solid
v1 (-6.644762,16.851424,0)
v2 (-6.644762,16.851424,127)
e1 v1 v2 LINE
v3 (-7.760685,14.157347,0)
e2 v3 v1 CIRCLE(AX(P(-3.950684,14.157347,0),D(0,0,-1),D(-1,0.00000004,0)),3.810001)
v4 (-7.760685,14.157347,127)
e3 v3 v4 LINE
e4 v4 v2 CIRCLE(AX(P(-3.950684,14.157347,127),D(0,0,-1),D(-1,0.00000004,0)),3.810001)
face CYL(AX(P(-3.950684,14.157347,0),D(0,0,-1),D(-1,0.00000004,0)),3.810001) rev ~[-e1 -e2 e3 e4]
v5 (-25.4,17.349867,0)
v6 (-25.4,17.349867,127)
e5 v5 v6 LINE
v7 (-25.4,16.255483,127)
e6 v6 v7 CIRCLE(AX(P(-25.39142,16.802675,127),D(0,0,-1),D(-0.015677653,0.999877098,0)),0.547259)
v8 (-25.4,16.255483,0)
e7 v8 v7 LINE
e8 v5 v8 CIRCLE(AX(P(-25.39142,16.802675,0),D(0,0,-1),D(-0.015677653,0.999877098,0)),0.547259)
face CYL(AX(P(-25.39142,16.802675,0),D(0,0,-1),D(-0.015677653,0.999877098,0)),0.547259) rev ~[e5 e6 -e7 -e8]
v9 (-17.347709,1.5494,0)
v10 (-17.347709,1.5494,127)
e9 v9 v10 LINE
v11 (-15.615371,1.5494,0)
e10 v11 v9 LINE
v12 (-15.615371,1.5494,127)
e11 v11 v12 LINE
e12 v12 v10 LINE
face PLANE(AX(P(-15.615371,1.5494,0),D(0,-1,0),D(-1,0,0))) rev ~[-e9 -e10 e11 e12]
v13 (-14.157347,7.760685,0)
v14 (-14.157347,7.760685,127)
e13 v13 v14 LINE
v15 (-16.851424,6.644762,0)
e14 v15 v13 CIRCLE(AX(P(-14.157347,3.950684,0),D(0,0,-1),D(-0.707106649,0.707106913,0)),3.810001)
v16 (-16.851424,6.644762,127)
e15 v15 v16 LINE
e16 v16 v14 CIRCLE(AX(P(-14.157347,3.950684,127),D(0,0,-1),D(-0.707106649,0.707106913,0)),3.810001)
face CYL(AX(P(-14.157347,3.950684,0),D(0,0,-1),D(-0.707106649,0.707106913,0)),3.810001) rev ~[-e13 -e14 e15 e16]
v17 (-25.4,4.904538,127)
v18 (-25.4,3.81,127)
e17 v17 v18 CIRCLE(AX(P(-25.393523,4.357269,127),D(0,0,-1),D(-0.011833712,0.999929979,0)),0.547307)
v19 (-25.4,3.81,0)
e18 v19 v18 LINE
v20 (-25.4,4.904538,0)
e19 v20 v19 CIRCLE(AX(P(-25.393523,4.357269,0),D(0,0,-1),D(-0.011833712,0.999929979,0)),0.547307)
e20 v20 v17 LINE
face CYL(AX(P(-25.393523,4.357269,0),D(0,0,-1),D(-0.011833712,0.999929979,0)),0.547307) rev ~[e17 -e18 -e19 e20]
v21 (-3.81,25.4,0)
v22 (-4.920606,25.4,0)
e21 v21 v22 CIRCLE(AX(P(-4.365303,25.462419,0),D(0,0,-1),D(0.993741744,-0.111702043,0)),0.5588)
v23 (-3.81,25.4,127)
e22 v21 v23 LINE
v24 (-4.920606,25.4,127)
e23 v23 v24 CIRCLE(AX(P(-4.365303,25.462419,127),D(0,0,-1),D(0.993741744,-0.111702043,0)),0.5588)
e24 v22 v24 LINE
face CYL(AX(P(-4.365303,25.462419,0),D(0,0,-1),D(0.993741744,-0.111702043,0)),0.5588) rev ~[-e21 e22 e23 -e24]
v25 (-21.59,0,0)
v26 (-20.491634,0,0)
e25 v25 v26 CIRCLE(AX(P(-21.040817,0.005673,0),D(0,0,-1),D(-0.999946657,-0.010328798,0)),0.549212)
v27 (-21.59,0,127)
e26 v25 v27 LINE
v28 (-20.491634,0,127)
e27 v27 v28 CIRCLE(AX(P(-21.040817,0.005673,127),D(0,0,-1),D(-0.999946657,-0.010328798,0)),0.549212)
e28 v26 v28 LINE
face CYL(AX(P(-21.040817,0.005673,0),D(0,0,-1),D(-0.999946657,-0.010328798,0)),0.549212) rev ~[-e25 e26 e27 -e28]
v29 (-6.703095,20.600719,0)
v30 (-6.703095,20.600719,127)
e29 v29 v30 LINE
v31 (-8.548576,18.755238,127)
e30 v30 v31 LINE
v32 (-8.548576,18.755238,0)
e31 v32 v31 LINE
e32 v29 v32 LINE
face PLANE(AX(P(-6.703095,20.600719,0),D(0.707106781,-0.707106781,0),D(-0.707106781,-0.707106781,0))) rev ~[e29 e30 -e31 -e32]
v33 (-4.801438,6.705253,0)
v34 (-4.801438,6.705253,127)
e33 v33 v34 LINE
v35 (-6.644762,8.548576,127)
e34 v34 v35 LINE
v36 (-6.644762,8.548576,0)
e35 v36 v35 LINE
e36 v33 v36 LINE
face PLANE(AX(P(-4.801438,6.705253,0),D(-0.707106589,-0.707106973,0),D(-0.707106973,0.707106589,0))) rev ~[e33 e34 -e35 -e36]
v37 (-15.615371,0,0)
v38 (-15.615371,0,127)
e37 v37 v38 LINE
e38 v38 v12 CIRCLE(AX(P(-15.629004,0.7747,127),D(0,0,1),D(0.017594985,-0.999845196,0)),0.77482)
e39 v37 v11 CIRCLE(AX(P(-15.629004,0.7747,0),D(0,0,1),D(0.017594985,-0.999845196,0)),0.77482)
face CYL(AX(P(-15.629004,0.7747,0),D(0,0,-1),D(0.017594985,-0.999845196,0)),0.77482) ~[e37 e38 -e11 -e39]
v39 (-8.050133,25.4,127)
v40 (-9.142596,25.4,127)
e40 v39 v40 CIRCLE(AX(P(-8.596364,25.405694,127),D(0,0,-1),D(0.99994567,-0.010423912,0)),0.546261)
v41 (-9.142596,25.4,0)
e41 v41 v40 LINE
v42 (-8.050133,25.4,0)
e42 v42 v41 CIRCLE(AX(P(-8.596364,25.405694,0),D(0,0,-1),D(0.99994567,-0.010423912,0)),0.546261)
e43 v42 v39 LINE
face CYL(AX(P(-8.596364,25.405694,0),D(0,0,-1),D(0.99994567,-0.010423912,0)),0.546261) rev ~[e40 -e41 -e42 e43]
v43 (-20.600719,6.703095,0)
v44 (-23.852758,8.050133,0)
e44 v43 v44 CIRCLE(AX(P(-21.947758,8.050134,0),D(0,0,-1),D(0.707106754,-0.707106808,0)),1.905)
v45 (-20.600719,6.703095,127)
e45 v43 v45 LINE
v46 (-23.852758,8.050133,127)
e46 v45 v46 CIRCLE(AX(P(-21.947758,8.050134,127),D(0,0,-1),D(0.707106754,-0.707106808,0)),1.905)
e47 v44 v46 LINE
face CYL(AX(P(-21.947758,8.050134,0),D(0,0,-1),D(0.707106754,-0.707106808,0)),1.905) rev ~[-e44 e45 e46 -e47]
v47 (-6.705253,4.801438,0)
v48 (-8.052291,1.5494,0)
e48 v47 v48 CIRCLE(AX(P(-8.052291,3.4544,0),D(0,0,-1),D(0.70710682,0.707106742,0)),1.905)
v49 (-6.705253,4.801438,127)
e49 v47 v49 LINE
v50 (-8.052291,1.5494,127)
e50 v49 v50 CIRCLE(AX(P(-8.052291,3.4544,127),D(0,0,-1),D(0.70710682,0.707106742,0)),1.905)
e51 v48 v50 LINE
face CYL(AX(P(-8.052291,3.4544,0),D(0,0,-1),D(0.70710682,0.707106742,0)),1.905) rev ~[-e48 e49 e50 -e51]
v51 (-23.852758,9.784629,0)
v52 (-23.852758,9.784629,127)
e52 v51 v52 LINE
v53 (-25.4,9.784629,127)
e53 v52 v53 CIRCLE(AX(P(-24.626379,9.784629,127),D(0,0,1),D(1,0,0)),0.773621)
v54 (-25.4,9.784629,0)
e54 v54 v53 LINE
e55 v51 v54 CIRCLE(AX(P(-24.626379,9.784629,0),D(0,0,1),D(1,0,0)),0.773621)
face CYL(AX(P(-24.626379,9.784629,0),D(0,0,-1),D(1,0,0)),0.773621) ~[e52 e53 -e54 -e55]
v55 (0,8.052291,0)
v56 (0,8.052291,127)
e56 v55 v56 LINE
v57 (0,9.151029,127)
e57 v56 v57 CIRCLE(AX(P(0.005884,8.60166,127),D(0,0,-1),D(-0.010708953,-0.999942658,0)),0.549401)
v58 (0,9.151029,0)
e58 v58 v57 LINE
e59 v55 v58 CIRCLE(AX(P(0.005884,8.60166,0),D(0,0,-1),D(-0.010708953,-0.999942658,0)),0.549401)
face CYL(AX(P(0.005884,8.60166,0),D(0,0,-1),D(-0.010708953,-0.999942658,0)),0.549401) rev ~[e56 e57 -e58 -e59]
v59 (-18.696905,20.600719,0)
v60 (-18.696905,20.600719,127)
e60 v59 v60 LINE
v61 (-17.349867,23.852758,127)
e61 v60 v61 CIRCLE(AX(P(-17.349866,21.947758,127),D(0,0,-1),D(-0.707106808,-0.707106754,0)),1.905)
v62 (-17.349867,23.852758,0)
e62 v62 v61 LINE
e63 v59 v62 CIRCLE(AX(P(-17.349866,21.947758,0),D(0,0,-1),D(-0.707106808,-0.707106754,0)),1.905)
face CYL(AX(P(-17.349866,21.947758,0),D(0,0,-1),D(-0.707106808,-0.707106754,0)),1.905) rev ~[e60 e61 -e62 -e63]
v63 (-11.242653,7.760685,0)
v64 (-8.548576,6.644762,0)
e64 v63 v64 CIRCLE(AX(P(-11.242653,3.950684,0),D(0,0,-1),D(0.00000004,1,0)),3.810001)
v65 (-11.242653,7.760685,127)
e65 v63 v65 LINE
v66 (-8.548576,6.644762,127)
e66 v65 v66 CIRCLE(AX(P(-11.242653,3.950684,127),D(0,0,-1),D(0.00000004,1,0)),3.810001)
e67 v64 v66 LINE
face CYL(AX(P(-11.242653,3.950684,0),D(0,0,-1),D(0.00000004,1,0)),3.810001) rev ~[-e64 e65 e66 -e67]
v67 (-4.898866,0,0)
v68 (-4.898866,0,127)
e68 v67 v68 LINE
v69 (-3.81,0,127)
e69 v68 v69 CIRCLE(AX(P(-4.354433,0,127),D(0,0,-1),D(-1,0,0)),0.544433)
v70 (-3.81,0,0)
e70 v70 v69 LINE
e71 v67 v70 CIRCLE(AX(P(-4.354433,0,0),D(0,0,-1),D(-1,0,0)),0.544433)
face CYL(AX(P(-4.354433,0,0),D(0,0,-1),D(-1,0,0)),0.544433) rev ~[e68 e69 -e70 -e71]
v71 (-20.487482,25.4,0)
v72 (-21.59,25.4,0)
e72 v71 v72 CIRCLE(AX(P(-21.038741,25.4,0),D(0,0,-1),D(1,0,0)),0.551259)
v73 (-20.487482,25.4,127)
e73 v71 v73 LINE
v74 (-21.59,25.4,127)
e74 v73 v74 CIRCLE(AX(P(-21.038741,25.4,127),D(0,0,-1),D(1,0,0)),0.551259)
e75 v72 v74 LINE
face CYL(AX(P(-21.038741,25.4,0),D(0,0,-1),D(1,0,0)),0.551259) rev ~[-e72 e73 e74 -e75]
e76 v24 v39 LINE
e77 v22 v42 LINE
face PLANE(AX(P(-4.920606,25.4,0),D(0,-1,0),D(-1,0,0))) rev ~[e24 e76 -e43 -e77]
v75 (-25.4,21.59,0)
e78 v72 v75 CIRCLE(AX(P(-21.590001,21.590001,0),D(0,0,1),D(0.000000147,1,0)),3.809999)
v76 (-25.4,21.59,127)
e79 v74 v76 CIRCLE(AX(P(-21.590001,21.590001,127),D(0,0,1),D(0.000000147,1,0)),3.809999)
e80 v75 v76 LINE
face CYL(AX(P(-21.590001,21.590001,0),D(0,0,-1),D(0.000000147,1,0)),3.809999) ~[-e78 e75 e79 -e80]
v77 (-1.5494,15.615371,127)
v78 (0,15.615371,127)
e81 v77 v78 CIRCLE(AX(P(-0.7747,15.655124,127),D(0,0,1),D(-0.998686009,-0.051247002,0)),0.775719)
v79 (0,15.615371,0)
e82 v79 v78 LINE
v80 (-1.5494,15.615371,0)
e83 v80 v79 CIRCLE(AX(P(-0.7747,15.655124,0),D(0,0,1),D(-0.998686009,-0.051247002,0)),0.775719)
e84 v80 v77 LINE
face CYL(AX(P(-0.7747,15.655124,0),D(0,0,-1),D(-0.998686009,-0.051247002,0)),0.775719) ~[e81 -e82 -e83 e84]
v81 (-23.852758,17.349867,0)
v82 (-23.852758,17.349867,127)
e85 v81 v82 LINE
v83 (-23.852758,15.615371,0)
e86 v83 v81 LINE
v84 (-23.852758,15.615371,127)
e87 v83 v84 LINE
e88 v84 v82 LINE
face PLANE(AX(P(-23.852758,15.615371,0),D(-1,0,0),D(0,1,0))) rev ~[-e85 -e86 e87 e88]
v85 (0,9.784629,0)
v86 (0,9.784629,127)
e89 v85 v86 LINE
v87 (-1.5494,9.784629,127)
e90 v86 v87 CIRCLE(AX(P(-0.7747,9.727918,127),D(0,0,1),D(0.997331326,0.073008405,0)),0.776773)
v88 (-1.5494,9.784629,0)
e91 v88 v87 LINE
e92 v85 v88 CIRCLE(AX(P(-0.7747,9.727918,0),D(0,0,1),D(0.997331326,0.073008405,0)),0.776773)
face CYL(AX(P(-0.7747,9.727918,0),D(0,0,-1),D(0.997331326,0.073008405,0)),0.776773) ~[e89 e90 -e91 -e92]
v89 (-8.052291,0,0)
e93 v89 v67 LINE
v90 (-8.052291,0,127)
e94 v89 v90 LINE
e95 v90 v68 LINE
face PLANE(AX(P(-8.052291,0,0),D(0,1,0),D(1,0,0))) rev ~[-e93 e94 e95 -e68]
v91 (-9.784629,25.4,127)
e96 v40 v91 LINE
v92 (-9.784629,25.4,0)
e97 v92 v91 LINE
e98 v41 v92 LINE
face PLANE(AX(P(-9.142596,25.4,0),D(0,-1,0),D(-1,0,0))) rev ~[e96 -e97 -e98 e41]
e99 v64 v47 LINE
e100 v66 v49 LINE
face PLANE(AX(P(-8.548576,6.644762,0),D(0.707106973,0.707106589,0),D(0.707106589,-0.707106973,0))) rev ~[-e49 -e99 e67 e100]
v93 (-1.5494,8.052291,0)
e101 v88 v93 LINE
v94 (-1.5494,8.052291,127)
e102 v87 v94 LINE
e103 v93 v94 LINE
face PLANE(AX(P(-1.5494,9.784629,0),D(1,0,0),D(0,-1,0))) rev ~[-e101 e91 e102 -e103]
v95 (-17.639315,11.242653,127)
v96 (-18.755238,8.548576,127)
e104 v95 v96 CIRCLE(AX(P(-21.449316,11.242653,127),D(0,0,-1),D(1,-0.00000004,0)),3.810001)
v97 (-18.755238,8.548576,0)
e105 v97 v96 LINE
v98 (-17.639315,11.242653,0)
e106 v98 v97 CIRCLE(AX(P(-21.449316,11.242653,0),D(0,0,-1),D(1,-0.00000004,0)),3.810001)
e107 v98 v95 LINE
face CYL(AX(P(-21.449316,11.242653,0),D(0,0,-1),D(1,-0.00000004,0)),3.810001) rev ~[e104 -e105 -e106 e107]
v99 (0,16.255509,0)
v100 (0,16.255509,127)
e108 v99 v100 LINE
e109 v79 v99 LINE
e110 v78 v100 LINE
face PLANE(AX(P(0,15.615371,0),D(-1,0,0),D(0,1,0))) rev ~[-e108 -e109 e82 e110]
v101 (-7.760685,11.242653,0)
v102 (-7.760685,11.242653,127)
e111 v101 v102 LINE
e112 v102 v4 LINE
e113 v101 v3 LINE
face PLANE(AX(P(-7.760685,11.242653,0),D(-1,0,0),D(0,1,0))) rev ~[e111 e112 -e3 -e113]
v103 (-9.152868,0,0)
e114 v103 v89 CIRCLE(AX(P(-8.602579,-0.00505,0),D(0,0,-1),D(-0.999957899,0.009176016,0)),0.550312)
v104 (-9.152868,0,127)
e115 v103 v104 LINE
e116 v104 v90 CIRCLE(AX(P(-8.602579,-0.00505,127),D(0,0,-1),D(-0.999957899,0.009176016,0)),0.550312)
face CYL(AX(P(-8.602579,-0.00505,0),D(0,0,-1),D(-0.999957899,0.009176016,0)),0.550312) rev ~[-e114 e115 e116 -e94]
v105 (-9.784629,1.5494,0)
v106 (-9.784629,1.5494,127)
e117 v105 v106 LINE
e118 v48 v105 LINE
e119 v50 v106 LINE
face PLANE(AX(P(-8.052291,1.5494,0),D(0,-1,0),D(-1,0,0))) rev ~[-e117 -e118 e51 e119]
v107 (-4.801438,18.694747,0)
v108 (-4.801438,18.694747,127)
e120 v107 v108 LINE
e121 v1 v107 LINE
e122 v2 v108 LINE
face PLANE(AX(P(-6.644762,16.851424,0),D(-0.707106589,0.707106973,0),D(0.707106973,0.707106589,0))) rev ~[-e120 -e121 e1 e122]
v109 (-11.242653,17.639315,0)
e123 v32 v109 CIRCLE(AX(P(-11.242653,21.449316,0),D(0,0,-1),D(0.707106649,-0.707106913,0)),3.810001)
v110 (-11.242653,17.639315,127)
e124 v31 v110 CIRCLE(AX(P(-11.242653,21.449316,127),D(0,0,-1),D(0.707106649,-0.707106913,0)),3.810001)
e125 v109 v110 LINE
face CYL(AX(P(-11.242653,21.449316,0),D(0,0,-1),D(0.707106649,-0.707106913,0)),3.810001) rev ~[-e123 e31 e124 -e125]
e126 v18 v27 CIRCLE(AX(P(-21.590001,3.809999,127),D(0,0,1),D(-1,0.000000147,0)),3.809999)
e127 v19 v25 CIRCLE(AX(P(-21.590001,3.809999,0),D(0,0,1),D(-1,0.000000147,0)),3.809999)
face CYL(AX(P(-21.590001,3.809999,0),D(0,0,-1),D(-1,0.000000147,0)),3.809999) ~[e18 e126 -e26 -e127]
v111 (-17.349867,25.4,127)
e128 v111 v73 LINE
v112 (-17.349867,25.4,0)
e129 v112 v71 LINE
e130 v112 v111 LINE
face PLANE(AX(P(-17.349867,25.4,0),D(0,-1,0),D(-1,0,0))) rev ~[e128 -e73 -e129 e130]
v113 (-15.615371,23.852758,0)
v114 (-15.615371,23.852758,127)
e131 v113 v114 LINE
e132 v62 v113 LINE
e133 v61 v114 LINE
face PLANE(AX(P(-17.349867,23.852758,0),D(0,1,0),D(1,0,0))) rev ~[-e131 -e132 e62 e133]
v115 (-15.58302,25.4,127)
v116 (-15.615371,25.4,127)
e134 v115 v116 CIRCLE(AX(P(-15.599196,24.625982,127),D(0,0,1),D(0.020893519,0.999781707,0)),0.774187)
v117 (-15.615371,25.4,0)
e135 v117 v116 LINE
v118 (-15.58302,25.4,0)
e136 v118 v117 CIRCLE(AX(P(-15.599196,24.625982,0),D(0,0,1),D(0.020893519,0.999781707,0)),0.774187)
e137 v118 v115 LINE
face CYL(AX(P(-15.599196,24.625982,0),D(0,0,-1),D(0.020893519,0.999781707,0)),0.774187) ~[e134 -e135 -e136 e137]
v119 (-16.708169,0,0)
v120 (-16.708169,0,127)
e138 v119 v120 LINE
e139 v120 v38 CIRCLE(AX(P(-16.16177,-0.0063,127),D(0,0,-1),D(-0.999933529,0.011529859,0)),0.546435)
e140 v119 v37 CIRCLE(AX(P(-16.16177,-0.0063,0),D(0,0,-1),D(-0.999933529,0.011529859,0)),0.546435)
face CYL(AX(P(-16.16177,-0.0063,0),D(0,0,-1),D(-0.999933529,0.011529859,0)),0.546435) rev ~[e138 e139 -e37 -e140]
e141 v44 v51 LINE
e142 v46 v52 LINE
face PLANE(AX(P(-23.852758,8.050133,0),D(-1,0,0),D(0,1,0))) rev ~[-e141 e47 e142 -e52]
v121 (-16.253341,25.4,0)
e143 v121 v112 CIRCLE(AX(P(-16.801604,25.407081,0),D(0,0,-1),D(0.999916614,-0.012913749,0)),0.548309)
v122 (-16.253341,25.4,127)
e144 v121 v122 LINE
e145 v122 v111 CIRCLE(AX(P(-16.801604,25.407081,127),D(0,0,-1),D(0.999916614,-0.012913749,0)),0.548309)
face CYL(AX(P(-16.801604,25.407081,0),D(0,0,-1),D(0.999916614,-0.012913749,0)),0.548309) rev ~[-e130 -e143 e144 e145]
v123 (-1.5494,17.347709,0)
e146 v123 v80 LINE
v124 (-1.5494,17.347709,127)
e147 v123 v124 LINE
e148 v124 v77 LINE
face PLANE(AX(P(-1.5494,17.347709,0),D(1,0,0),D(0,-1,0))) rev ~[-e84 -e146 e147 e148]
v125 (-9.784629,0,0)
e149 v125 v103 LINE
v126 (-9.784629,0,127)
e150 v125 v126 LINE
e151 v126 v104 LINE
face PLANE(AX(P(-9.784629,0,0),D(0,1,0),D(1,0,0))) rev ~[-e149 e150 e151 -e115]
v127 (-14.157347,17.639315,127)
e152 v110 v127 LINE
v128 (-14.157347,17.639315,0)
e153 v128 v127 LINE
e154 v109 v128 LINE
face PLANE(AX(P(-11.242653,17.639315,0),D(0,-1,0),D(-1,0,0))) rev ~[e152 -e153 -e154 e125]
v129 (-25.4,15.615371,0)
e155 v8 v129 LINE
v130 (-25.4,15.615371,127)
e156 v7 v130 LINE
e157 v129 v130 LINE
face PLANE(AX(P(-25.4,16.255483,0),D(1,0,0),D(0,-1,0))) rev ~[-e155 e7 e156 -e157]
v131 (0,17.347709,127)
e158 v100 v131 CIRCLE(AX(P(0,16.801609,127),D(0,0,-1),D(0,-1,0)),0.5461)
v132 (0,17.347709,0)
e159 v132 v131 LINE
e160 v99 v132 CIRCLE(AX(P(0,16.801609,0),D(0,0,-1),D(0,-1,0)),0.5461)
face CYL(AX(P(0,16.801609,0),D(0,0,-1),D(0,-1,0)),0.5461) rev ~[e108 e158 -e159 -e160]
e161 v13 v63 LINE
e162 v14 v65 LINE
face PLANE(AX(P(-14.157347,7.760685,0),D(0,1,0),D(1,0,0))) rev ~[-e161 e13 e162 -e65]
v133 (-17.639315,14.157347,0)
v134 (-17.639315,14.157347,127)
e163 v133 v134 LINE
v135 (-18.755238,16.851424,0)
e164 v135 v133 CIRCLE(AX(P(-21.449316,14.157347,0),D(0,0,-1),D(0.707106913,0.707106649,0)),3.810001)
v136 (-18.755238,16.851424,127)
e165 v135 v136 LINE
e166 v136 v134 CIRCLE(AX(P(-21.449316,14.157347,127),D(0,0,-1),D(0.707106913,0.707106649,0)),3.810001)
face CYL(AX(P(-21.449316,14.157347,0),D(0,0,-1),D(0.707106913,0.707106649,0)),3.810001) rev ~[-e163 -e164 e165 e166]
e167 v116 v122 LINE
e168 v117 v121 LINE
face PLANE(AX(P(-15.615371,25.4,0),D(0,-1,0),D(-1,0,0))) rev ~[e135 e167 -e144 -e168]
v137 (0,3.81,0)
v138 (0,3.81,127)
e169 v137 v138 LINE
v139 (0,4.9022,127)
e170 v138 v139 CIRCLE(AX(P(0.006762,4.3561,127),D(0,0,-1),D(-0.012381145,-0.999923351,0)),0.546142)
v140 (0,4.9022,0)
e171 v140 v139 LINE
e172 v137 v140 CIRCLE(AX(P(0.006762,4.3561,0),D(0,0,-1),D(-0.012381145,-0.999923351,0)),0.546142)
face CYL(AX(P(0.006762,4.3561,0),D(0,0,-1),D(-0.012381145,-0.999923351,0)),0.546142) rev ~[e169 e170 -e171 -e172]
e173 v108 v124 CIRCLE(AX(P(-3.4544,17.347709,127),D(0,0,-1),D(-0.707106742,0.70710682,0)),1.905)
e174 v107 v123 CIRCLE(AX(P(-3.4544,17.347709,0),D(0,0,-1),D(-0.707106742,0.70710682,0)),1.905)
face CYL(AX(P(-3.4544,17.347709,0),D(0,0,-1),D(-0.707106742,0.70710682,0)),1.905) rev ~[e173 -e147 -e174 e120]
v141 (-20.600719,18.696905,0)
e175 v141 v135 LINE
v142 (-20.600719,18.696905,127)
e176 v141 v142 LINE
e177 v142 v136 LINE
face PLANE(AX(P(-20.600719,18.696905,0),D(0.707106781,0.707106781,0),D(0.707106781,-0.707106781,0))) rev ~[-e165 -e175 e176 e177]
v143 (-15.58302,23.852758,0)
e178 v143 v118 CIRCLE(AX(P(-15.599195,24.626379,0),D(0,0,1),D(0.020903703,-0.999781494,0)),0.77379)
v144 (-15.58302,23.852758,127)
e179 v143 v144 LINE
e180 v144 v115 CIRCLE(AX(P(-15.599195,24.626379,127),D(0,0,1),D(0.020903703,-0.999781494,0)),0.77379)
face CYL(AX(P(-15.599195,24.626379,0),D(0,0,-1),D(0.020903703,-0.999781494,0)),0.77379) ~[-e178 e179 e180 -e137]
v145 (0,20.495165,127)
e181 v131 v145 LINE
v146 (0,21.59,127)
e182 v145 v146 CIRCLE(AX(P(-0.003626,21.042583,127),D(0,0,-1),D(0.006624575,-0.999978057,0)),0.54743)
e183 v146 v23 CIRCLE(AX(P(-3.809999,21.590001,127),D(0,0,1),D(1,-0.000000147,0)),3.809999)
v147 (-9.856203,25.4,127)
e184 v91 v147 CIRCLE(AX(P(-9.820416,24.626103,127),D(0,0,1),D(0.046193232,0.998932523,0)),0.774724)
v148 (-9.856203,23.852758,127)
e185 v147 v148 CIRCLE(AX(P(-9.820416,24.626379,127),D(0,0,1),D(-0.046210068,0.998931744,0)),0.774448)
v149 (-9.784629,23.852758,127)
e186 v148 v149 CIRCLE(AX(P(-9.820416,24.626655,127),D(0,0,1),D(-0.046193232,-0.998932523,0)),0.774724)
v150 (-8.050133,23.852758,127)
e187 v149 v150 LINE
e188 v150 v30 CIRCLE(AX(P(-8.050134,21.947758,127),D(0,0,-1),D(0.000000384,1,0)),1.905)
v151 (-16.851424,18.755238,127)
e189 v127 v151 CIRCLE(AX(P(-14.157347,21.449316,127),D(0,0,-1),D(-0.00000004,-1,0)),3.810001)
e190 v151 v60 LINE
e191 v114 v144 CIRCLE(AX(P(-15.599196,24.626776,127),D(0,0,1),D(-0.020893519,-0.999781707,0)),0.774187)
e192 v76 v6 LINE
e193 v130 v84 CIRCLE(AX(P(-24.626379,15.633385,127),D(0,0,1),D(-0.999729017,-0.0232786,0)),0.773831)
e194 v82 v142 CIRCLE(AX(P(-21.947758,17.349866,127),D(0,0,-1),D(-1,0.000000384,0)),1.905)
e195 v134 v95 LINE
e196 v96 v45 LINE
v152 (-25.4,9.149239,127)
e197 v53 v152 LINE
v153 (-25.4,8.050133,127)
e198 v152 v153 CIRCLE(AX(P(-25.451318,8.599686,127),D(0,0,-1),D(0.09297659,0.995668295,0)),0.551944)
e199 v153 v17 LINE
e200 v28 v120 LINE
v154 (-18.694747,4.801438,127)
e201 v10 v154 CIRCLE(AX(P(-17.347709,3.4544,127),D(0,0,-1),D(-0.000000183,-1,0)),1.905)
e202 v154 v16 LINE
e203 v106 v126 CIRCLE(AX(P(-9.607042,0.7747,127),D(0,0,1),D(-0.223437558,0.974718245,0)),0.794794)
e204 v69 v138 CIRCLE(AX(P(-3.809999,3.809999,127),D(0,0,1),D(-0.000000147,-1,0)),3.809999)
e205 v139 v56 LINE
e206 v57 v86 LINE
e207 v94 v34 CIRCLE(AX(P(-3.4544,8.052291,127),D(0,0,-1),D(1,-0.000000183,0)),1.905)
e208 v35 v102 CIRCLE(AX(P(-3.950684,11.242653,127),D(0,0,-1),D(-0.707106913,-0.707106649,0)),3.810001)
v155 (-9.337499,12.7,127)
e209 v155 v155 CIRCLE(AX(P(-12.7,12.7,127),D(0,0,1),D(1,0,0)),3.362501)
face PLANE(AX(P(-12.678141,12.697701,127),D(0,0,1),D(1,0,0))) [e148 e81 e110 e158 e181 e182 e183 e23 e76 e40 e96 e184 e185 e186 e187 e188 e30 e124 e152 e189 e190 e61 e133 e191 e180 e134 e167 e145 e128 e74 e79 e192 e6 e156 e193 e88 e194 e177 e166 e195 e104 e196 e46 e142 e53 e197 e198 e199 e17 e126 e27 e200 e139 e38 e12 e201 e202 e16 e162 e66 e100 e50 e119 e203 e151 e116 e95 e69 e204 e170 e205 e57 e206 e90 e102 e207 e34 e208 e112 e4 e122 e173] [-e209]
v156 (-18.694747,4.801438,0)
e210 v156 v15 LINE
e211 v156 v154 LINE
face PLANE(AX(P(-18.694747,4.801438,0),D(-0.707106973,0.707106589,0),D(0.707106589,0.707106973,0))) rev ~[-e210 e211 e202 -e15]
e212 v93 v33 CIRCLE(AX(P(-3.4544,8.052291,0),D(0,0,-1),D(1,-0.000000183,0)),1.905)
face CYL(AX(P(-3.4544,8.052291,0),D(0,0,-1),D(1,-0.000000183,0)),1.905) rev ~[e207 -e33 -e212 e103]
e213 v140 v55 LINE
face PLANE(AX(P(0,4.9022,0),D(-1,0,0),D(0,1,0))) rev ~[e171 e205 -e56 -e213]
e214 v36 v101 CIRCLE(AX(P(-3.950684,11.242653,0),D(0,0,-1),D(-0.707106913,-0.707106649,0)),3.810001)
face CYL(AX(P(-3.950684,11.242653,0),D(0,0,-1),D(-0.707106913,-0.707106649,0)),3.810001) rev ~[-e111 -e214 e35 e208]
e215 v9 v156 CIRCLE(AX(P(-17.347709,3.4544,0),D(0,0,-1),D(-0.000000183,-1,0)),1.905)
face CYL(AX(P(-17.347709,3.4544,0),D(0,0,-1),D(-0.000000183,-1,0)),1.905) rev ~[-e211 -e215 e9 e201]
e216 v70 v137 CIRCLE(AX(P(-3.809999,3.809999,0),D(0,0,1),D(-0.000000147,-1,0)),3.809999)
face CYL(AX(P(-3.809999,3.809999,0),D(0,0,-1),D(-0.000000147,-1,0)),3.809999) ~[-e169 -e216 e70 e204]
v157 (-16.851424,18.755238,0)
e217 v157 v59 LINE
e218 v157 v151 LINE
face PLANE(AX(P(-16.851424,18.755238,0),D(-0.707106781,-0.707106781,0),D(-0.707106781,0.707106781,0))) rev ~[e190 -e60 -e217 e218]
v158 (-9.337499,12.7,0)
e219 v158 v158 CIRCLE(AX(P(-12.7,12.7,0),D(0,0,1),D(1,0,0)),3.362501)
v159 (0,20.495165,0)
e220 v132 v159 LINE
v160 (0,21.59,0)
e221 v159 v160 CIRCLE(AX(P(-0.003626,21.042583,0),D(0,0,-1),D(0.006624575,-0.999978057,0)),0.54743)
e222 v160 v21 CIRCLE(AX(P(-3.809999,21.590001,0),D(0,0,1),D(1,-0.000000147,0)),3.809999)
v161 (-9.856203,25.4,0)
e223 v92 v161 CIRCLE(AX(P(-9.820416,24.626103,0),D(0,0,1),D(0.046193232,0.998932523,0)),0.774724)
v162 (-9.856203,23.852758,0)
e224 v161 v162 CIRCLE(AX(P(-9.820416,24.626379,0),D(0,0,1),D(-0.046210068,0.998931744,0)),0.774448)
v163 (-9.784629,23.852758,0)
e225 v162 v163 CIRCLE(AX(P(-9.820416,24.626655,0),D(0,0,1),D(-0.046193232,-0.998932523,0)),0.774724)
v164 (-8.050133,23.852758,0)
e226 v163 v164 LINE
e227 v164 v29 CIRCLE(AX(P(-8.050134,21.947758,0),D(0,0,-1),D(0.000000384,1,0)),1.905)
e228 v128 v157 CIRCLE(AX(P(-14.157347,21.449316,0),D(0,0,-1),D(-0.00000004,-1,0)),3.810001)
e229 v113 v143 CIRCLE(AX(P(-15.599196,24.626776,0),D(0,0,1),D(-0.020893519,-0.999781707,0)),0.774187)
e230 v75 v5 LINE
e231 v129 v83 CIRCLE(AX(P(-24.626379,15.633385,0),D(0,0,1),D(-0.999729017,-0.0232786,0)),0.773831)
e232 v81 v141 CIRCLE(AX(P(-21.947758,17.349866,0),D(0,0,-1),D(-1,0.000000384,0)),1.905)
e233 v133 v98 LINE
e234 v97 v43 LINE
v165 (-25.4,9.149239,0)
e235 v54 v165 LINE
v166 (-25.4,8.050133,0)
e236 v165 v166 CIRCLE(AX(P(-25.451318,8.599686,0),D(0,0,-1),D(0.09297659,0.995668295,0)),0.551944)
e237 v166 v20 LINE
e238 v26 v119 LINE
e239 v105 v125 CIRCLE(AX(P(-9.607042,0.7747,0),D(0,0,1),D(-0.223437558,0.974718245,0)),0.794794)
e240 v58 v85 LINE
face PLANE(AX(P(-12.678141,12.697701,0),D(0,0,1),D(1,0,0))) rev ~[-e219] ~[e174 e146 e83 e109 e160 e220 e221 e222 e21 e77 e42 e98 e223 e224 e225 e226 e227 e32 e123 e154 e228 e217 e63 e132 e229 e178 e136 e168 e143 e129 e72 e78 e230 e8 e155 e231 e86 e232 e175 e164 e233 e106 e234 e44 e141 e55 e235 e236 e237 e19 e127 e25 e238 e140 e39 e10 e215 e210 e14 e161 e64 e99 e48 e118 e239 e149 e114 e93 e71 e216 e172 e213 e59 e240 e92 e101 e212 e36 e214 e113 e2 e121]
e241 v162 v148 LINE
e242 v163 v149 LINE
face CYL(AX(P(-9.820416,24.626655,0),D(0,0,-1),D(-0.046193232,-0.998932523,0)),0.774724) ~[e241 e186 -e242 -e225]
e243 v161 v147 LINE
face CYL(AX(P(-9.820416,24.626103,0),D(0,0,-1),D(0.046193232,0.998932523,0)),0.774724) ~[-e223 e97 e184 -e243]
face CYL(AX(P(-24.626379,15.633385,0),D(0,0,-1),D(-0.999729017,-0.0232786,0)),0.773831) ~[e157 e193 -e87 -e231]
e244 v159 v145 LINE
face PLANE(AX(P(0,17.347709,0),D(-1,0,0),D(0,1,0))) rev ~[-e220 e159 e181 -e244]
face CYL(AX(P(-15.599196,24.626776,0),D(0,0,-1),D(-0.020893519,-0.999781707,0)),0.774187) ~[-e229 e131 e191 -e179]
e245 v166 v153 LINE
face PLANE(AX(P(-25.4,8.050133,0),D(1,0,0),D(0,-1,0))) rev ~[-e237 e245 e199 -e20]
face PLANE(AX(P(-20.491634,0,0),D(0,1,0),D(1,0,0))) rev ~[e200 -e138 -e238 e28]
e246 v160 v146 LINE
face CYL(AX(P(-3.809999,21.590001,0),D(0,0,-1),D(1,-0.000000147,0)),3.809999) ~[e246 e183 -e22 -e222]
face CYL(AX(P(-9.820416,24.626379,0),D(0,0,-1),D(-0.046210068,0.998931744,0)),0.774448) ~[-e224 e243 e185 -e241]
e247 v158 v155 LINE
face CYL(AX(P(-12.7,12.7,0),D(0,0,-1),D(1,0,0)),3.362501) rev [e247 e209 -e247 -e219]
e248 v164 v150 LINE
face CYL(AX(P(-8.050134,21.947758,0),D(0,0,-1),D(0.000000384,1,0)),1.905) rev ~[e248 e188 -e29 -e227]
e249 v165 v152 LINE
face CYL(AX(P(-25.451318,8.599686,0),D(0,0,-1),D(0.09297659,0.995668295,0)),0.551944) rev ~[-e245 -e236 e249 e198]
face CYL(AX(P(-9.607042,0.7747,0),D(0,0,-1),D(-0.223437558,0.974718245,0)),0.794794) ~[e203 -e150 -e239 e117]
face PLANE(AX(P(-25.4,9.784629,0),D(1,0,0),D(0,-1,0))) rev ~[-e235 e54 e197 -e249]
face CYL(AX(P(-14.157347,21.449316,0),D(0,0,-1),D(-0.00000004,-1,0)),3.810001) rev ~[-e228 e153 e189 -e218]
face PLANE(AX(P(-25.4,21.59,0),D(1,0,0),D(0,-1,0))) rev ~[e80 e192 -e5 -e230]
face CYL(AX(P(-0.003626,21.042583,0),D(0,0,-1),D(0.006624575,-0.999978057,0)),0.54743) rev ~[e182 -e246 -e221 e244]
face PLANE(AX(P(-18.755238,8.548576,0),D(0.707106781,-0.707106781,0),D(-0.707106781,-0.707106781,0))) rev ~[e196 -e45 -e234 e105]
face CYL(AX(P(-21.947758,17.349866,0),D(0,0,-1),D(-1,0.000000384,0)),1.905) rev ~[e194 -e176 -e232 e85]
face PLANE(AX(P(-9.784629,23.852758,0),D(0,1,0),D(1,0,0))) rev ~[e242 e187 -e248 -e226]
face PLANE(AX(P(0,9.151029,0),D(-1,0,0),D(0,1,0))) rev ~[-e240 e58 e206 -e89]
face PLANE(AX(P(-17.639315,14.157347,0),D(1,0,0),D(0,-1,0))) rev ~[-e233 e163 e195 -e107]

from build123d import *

# Parameters (mm, degrees)
F0_R     = 3.362501
F1_DEPTH = 127


with BuildPart() as f1:
    # F0 (on Top) → F1 (new body)
    with BuildSketch(Plane.XY):
        with BuildLine():
            ThreePointArc((-8.548576, 18.755238), (-9.784629, 17.929334), (-11.242653, 17.639315))
            Line((-11.242653, 17.639315), (-14.157347, 17.639315))
            ThreePointArc((-14.157347, 17.639315), (-15.615371, 17.929334), (-16.851424, 18.755238))
            Line((-16.851424, 18.755238), (-18.696905, 20.600719))
            ThreePointArc((-18.696905, 20.600719), (-19.109857, 22.67677), (-17.349867, 23.852758))
            Line((-17.349867, 23.852758), (-15.615371, 23.852758))
            Line((-15.615371, 23.852758), (-15.58302, 23.852758))
            ThreePointArc((-15.58302, 23.852758), (-14.825405, 24.626379), (-15.58302, 25.4))
            Line((-15.58302, 25.4), (-15.615371, 25.4))
            Line((-15.615371, 25.4), (-16.253341, 25.4))
            ThreePointArc((-16.253341, 25.4), (-16.801604, 24.858772), (-17.349867, 25.4))
            Line((-17.349867, 25.4), (-20.487482, 25.4))
            ThreePointArc((-20.487482, 25.4), (-21.038741, 24.848741), (-21.59, 25.4))
            ThreePointArc((-21.59, 25.4), (-24.284077, 24.284077), (-25.4, 21.59))
            Line((-25.4, 21.59), (-25.4, 20.504724))
            Line((-25.4, 20.504724), (-25.4, 17.349867))
            ThreePointArc((-25.4, 17.349867), (-24.844161, 16.802675), (-25.4, 16.255483))
            Line((-25.4, 16.255483), (-25.4, 15.615371))
            ThreePointArc((-25.4, 15.615371), (-24.626379, 14.859554), (-23.852758, 15.615371))
            Line((-23.852758, 15.615371), (-23.852758, 17.349867))
            ThreePointArc((-23.852758, 17.349867), (-22.67677, 19.109857), (-20.600719, 18.696905))
            Line((-20.600719, 18.696905), (-18.755238, 16.851424))
            ThreePointArc((-18.755238, 16.851424), (-17.929334, 15.615371), (-17.639315, 14.157347))
            Line((-17.639315, 14.157347), (-17.639315, 11.242653))
            ThreePointArc((-17.639315, 11.242653), (-17.929334, 9.784629), (-18.755238, 8.548576))
            Line((-18.755238, 8.548576), (-20.600719, 6.703095))
            ThreePointArc((-20.600719, 6.703095), (-22.67677, 6.290143), (-23.852758, 8.050133))
            Line((-23.852758, 8.050133), (-23.852758, 9.784629))
            ThreePointArc((-23.852758, 9.784629), (-24.626379, 10.55825), (-25.4, 9.784629))
            Line((-25.4, 9.784629), (-25.4, 9.149239))
            ThreePointArc((-25.4, 9.149239), (-24.899374, 8.599686), (-25.4, 8.050133))
            Line((-25.4, 8.050133), (-25.4, 4.904538))
            ThreePointArc((-25.4, 4.904538), (-24.846216, 4.357269), (-25.4, 3.81))
            ThreePointArc((-25.4, 3.81), (-24.284077, 1.115923), (-21.59, 0))
            ThreePointArc((-21.59, 0), (-21.040817, 0.554885), (-20.491634, 0))
            Line((-20.491634, 0), (-16.708169, 0))
            ThreePointArc((-16.708169, 0), (-16.16177, 0.540135), (-15.615371, 0))
            ThreePointArc((-15.615371, 0), (-14.854184, 0.7747), (-15.615371, 1.5494))
            Line((-15.615371, 1.5494), (-17.347709, 1.5494))
            ThreePointArc((-17.347709, 1.5494), (-19.107699, 2.725388), (-18.694747, 4.801438))
            Line((-18.694747, 4.801438), (-16.851424, 6.644762))
            ThreePointArc((-16.851424, 6.644762), (-15.615371, 7.470666), (-14.157347, 7.760685))
            Line((-14.157347, 7.760685), (-11.242653, 7.760685))
            ThreePointArc((-11.242653, 7.760685), (-9.784629, 7.470666), (-8.548576, 6.644762))
            Line((-8.548576, 6.644762), (-6.705253, 4.801438))
            ThreePointArc((-6.705253, 4.801438), (-6.292301, 2.725388), (-8.052291, 1.5494))
            Line((-8.052291, 1.5494), (-9.784629, 1.5494))
            ThreePointArc((-9.784629, 1.5494), (-10.401836, 0.7747), (-9.784629, 0))
            Line((-9.784629, 0), (-9.152868, 0))
            ThreePointArc((-9.152868, 0), (-8.602579, 0.545262), (-8.052291, 0))
            Line((-8.052291, 0), (-4.898866, 0))
            ThreePointArc((-4.898866, 0), (-4.354433, 0.544433), (-3.81, 0))
            ThreePointArc((-3.81, 0), (-1.115923, 1.115923), (0, 3.81))
            ThreePointArc((0, 3.81), (-0.53938, 4.3561), (0, 4.9022))
            Line((0, 4.9022), (0, 8.052291))
            ThreePointArc((0, 8.052291), (-0.543517, 8.60166), (0, 9.151029))
            Line((0, 9.151029), (0, 9.784629))
            ThreePointArc((0, 9.784629), (-0.7747, 10.504691), (-1.5494, 9.784629))
            Line((-1.5494, 9.784629), (-1.5494, 8.052291))
            ThreePointArc((-1.5494, 8.052291), (-2.725388, 6.292301), (-4.801438, 6.705253))
            Line((-4.801438, 6.705253), (-6.644762, 8.548576))
            ThreePointArc((-6.644762, 8.548576), (-7.470666, 9.784629), (-7.760685, 11.242653))
            Line((-7.760685, 11.242653), (-7.760685, 14.157347))
            ThreePointArc((-7.760685, 14.157347), (-7.470666, 15.615371), (-6.644762, 16.851424))
            Line((-6.644762, 16.851424), (-4.801438, 18.694747))
            ThreePointArc((-4.801438, 18.694747), (-2.725388, 19.107699), (-1.5494, 17.347709))
            Line((-1.5494, 17.347709), (-1.5494, 15.615371))
            ThreePointArc((-1.5494, 15.615371), (-0.7747, 14.879405), (0, 15.615371))
            Line((0, 15.615371), (0, 16.255509))
            ThreePointArc((0, 16.255509), (-0.5461, 16.801609), (0, 17.347709))
            Line((0, 17.347709), (0, 20.495165))
            ThreePointArc((0, 20.495165), (-0.551056, 21.042583), (0, 21.59))
            ThreePointArc((0, 21.59), (-1.115923, 24.284077), (-3.81, 25.4))
            ThreePointArc((-3.81, 25.4), (-4.365303, 24.903619), (-4.920606, 25.4))
            Line((-4.920606, 25.4), (-8.050133, 25.4))
            ThreePointArc((-8.050133, 25.4), (-8.596365, 24.859433), (-9.142596, 25.4))
            Line((-9.142596, 25.4), (-9.784629, 25.4))
            Line((-9.784629, 25.4), (-9.856203, 25.4))
            ThreePointArc((-9.856203, 25.4), (-10.594864, 24.626379), (-9.856203, 23.852758))
            Line((-9.856203, 23.852758), (-9.784629, 23.852758))
            Line((-9.784629, 23.852758), (-8.050133, 23.852758))
            ThreePointArc((-8.050133, 23.852758), (-6.290143, 22.67677), (-6.703095, 20.600719))
            Line((-6.703095, 20.600719), (-8.548576, 18.755238))
        make_face()
        with Locations((-12.7, 12.7)):
            Circle(F0_R, mode=Mode.SUBTRACT)
        with BuildLine():
            ThreePointArc((-9.856203, 23.852758), (-9.820416, 23.851931), (-9.784629, 23.852758))
            Line((-9.784629, 23.852758), (-9.856203, 23.852758))
        make_face()
        with BuildLine():
            Line((-15.58302, 23.852758), (-15.615371, 23.852758))
            ThreePointArc((-15.615371, 23.852758), (-15.599195, 23.852589), (-15.58302, 23.852758))
        make_face()
        with BuildLine():
            ThreePointArc((-9.784629, 25.4), (-9.820416, 25.400827), (-9.856203, 25.4))
            Line((-9.856203, 25.4), (-9.784629, 25.4))
        make_face()
        with BuildLine():
            Line((-15.615371, 25.4), (-15.58302, 25.4))
            ThreePointArc((-15.58302, 25.4), (-15.599195, 25.400169), (-15.615371, 25.4))
        make_face()
    extrude(amount=F1_DEPTH)


solid = f1.part
